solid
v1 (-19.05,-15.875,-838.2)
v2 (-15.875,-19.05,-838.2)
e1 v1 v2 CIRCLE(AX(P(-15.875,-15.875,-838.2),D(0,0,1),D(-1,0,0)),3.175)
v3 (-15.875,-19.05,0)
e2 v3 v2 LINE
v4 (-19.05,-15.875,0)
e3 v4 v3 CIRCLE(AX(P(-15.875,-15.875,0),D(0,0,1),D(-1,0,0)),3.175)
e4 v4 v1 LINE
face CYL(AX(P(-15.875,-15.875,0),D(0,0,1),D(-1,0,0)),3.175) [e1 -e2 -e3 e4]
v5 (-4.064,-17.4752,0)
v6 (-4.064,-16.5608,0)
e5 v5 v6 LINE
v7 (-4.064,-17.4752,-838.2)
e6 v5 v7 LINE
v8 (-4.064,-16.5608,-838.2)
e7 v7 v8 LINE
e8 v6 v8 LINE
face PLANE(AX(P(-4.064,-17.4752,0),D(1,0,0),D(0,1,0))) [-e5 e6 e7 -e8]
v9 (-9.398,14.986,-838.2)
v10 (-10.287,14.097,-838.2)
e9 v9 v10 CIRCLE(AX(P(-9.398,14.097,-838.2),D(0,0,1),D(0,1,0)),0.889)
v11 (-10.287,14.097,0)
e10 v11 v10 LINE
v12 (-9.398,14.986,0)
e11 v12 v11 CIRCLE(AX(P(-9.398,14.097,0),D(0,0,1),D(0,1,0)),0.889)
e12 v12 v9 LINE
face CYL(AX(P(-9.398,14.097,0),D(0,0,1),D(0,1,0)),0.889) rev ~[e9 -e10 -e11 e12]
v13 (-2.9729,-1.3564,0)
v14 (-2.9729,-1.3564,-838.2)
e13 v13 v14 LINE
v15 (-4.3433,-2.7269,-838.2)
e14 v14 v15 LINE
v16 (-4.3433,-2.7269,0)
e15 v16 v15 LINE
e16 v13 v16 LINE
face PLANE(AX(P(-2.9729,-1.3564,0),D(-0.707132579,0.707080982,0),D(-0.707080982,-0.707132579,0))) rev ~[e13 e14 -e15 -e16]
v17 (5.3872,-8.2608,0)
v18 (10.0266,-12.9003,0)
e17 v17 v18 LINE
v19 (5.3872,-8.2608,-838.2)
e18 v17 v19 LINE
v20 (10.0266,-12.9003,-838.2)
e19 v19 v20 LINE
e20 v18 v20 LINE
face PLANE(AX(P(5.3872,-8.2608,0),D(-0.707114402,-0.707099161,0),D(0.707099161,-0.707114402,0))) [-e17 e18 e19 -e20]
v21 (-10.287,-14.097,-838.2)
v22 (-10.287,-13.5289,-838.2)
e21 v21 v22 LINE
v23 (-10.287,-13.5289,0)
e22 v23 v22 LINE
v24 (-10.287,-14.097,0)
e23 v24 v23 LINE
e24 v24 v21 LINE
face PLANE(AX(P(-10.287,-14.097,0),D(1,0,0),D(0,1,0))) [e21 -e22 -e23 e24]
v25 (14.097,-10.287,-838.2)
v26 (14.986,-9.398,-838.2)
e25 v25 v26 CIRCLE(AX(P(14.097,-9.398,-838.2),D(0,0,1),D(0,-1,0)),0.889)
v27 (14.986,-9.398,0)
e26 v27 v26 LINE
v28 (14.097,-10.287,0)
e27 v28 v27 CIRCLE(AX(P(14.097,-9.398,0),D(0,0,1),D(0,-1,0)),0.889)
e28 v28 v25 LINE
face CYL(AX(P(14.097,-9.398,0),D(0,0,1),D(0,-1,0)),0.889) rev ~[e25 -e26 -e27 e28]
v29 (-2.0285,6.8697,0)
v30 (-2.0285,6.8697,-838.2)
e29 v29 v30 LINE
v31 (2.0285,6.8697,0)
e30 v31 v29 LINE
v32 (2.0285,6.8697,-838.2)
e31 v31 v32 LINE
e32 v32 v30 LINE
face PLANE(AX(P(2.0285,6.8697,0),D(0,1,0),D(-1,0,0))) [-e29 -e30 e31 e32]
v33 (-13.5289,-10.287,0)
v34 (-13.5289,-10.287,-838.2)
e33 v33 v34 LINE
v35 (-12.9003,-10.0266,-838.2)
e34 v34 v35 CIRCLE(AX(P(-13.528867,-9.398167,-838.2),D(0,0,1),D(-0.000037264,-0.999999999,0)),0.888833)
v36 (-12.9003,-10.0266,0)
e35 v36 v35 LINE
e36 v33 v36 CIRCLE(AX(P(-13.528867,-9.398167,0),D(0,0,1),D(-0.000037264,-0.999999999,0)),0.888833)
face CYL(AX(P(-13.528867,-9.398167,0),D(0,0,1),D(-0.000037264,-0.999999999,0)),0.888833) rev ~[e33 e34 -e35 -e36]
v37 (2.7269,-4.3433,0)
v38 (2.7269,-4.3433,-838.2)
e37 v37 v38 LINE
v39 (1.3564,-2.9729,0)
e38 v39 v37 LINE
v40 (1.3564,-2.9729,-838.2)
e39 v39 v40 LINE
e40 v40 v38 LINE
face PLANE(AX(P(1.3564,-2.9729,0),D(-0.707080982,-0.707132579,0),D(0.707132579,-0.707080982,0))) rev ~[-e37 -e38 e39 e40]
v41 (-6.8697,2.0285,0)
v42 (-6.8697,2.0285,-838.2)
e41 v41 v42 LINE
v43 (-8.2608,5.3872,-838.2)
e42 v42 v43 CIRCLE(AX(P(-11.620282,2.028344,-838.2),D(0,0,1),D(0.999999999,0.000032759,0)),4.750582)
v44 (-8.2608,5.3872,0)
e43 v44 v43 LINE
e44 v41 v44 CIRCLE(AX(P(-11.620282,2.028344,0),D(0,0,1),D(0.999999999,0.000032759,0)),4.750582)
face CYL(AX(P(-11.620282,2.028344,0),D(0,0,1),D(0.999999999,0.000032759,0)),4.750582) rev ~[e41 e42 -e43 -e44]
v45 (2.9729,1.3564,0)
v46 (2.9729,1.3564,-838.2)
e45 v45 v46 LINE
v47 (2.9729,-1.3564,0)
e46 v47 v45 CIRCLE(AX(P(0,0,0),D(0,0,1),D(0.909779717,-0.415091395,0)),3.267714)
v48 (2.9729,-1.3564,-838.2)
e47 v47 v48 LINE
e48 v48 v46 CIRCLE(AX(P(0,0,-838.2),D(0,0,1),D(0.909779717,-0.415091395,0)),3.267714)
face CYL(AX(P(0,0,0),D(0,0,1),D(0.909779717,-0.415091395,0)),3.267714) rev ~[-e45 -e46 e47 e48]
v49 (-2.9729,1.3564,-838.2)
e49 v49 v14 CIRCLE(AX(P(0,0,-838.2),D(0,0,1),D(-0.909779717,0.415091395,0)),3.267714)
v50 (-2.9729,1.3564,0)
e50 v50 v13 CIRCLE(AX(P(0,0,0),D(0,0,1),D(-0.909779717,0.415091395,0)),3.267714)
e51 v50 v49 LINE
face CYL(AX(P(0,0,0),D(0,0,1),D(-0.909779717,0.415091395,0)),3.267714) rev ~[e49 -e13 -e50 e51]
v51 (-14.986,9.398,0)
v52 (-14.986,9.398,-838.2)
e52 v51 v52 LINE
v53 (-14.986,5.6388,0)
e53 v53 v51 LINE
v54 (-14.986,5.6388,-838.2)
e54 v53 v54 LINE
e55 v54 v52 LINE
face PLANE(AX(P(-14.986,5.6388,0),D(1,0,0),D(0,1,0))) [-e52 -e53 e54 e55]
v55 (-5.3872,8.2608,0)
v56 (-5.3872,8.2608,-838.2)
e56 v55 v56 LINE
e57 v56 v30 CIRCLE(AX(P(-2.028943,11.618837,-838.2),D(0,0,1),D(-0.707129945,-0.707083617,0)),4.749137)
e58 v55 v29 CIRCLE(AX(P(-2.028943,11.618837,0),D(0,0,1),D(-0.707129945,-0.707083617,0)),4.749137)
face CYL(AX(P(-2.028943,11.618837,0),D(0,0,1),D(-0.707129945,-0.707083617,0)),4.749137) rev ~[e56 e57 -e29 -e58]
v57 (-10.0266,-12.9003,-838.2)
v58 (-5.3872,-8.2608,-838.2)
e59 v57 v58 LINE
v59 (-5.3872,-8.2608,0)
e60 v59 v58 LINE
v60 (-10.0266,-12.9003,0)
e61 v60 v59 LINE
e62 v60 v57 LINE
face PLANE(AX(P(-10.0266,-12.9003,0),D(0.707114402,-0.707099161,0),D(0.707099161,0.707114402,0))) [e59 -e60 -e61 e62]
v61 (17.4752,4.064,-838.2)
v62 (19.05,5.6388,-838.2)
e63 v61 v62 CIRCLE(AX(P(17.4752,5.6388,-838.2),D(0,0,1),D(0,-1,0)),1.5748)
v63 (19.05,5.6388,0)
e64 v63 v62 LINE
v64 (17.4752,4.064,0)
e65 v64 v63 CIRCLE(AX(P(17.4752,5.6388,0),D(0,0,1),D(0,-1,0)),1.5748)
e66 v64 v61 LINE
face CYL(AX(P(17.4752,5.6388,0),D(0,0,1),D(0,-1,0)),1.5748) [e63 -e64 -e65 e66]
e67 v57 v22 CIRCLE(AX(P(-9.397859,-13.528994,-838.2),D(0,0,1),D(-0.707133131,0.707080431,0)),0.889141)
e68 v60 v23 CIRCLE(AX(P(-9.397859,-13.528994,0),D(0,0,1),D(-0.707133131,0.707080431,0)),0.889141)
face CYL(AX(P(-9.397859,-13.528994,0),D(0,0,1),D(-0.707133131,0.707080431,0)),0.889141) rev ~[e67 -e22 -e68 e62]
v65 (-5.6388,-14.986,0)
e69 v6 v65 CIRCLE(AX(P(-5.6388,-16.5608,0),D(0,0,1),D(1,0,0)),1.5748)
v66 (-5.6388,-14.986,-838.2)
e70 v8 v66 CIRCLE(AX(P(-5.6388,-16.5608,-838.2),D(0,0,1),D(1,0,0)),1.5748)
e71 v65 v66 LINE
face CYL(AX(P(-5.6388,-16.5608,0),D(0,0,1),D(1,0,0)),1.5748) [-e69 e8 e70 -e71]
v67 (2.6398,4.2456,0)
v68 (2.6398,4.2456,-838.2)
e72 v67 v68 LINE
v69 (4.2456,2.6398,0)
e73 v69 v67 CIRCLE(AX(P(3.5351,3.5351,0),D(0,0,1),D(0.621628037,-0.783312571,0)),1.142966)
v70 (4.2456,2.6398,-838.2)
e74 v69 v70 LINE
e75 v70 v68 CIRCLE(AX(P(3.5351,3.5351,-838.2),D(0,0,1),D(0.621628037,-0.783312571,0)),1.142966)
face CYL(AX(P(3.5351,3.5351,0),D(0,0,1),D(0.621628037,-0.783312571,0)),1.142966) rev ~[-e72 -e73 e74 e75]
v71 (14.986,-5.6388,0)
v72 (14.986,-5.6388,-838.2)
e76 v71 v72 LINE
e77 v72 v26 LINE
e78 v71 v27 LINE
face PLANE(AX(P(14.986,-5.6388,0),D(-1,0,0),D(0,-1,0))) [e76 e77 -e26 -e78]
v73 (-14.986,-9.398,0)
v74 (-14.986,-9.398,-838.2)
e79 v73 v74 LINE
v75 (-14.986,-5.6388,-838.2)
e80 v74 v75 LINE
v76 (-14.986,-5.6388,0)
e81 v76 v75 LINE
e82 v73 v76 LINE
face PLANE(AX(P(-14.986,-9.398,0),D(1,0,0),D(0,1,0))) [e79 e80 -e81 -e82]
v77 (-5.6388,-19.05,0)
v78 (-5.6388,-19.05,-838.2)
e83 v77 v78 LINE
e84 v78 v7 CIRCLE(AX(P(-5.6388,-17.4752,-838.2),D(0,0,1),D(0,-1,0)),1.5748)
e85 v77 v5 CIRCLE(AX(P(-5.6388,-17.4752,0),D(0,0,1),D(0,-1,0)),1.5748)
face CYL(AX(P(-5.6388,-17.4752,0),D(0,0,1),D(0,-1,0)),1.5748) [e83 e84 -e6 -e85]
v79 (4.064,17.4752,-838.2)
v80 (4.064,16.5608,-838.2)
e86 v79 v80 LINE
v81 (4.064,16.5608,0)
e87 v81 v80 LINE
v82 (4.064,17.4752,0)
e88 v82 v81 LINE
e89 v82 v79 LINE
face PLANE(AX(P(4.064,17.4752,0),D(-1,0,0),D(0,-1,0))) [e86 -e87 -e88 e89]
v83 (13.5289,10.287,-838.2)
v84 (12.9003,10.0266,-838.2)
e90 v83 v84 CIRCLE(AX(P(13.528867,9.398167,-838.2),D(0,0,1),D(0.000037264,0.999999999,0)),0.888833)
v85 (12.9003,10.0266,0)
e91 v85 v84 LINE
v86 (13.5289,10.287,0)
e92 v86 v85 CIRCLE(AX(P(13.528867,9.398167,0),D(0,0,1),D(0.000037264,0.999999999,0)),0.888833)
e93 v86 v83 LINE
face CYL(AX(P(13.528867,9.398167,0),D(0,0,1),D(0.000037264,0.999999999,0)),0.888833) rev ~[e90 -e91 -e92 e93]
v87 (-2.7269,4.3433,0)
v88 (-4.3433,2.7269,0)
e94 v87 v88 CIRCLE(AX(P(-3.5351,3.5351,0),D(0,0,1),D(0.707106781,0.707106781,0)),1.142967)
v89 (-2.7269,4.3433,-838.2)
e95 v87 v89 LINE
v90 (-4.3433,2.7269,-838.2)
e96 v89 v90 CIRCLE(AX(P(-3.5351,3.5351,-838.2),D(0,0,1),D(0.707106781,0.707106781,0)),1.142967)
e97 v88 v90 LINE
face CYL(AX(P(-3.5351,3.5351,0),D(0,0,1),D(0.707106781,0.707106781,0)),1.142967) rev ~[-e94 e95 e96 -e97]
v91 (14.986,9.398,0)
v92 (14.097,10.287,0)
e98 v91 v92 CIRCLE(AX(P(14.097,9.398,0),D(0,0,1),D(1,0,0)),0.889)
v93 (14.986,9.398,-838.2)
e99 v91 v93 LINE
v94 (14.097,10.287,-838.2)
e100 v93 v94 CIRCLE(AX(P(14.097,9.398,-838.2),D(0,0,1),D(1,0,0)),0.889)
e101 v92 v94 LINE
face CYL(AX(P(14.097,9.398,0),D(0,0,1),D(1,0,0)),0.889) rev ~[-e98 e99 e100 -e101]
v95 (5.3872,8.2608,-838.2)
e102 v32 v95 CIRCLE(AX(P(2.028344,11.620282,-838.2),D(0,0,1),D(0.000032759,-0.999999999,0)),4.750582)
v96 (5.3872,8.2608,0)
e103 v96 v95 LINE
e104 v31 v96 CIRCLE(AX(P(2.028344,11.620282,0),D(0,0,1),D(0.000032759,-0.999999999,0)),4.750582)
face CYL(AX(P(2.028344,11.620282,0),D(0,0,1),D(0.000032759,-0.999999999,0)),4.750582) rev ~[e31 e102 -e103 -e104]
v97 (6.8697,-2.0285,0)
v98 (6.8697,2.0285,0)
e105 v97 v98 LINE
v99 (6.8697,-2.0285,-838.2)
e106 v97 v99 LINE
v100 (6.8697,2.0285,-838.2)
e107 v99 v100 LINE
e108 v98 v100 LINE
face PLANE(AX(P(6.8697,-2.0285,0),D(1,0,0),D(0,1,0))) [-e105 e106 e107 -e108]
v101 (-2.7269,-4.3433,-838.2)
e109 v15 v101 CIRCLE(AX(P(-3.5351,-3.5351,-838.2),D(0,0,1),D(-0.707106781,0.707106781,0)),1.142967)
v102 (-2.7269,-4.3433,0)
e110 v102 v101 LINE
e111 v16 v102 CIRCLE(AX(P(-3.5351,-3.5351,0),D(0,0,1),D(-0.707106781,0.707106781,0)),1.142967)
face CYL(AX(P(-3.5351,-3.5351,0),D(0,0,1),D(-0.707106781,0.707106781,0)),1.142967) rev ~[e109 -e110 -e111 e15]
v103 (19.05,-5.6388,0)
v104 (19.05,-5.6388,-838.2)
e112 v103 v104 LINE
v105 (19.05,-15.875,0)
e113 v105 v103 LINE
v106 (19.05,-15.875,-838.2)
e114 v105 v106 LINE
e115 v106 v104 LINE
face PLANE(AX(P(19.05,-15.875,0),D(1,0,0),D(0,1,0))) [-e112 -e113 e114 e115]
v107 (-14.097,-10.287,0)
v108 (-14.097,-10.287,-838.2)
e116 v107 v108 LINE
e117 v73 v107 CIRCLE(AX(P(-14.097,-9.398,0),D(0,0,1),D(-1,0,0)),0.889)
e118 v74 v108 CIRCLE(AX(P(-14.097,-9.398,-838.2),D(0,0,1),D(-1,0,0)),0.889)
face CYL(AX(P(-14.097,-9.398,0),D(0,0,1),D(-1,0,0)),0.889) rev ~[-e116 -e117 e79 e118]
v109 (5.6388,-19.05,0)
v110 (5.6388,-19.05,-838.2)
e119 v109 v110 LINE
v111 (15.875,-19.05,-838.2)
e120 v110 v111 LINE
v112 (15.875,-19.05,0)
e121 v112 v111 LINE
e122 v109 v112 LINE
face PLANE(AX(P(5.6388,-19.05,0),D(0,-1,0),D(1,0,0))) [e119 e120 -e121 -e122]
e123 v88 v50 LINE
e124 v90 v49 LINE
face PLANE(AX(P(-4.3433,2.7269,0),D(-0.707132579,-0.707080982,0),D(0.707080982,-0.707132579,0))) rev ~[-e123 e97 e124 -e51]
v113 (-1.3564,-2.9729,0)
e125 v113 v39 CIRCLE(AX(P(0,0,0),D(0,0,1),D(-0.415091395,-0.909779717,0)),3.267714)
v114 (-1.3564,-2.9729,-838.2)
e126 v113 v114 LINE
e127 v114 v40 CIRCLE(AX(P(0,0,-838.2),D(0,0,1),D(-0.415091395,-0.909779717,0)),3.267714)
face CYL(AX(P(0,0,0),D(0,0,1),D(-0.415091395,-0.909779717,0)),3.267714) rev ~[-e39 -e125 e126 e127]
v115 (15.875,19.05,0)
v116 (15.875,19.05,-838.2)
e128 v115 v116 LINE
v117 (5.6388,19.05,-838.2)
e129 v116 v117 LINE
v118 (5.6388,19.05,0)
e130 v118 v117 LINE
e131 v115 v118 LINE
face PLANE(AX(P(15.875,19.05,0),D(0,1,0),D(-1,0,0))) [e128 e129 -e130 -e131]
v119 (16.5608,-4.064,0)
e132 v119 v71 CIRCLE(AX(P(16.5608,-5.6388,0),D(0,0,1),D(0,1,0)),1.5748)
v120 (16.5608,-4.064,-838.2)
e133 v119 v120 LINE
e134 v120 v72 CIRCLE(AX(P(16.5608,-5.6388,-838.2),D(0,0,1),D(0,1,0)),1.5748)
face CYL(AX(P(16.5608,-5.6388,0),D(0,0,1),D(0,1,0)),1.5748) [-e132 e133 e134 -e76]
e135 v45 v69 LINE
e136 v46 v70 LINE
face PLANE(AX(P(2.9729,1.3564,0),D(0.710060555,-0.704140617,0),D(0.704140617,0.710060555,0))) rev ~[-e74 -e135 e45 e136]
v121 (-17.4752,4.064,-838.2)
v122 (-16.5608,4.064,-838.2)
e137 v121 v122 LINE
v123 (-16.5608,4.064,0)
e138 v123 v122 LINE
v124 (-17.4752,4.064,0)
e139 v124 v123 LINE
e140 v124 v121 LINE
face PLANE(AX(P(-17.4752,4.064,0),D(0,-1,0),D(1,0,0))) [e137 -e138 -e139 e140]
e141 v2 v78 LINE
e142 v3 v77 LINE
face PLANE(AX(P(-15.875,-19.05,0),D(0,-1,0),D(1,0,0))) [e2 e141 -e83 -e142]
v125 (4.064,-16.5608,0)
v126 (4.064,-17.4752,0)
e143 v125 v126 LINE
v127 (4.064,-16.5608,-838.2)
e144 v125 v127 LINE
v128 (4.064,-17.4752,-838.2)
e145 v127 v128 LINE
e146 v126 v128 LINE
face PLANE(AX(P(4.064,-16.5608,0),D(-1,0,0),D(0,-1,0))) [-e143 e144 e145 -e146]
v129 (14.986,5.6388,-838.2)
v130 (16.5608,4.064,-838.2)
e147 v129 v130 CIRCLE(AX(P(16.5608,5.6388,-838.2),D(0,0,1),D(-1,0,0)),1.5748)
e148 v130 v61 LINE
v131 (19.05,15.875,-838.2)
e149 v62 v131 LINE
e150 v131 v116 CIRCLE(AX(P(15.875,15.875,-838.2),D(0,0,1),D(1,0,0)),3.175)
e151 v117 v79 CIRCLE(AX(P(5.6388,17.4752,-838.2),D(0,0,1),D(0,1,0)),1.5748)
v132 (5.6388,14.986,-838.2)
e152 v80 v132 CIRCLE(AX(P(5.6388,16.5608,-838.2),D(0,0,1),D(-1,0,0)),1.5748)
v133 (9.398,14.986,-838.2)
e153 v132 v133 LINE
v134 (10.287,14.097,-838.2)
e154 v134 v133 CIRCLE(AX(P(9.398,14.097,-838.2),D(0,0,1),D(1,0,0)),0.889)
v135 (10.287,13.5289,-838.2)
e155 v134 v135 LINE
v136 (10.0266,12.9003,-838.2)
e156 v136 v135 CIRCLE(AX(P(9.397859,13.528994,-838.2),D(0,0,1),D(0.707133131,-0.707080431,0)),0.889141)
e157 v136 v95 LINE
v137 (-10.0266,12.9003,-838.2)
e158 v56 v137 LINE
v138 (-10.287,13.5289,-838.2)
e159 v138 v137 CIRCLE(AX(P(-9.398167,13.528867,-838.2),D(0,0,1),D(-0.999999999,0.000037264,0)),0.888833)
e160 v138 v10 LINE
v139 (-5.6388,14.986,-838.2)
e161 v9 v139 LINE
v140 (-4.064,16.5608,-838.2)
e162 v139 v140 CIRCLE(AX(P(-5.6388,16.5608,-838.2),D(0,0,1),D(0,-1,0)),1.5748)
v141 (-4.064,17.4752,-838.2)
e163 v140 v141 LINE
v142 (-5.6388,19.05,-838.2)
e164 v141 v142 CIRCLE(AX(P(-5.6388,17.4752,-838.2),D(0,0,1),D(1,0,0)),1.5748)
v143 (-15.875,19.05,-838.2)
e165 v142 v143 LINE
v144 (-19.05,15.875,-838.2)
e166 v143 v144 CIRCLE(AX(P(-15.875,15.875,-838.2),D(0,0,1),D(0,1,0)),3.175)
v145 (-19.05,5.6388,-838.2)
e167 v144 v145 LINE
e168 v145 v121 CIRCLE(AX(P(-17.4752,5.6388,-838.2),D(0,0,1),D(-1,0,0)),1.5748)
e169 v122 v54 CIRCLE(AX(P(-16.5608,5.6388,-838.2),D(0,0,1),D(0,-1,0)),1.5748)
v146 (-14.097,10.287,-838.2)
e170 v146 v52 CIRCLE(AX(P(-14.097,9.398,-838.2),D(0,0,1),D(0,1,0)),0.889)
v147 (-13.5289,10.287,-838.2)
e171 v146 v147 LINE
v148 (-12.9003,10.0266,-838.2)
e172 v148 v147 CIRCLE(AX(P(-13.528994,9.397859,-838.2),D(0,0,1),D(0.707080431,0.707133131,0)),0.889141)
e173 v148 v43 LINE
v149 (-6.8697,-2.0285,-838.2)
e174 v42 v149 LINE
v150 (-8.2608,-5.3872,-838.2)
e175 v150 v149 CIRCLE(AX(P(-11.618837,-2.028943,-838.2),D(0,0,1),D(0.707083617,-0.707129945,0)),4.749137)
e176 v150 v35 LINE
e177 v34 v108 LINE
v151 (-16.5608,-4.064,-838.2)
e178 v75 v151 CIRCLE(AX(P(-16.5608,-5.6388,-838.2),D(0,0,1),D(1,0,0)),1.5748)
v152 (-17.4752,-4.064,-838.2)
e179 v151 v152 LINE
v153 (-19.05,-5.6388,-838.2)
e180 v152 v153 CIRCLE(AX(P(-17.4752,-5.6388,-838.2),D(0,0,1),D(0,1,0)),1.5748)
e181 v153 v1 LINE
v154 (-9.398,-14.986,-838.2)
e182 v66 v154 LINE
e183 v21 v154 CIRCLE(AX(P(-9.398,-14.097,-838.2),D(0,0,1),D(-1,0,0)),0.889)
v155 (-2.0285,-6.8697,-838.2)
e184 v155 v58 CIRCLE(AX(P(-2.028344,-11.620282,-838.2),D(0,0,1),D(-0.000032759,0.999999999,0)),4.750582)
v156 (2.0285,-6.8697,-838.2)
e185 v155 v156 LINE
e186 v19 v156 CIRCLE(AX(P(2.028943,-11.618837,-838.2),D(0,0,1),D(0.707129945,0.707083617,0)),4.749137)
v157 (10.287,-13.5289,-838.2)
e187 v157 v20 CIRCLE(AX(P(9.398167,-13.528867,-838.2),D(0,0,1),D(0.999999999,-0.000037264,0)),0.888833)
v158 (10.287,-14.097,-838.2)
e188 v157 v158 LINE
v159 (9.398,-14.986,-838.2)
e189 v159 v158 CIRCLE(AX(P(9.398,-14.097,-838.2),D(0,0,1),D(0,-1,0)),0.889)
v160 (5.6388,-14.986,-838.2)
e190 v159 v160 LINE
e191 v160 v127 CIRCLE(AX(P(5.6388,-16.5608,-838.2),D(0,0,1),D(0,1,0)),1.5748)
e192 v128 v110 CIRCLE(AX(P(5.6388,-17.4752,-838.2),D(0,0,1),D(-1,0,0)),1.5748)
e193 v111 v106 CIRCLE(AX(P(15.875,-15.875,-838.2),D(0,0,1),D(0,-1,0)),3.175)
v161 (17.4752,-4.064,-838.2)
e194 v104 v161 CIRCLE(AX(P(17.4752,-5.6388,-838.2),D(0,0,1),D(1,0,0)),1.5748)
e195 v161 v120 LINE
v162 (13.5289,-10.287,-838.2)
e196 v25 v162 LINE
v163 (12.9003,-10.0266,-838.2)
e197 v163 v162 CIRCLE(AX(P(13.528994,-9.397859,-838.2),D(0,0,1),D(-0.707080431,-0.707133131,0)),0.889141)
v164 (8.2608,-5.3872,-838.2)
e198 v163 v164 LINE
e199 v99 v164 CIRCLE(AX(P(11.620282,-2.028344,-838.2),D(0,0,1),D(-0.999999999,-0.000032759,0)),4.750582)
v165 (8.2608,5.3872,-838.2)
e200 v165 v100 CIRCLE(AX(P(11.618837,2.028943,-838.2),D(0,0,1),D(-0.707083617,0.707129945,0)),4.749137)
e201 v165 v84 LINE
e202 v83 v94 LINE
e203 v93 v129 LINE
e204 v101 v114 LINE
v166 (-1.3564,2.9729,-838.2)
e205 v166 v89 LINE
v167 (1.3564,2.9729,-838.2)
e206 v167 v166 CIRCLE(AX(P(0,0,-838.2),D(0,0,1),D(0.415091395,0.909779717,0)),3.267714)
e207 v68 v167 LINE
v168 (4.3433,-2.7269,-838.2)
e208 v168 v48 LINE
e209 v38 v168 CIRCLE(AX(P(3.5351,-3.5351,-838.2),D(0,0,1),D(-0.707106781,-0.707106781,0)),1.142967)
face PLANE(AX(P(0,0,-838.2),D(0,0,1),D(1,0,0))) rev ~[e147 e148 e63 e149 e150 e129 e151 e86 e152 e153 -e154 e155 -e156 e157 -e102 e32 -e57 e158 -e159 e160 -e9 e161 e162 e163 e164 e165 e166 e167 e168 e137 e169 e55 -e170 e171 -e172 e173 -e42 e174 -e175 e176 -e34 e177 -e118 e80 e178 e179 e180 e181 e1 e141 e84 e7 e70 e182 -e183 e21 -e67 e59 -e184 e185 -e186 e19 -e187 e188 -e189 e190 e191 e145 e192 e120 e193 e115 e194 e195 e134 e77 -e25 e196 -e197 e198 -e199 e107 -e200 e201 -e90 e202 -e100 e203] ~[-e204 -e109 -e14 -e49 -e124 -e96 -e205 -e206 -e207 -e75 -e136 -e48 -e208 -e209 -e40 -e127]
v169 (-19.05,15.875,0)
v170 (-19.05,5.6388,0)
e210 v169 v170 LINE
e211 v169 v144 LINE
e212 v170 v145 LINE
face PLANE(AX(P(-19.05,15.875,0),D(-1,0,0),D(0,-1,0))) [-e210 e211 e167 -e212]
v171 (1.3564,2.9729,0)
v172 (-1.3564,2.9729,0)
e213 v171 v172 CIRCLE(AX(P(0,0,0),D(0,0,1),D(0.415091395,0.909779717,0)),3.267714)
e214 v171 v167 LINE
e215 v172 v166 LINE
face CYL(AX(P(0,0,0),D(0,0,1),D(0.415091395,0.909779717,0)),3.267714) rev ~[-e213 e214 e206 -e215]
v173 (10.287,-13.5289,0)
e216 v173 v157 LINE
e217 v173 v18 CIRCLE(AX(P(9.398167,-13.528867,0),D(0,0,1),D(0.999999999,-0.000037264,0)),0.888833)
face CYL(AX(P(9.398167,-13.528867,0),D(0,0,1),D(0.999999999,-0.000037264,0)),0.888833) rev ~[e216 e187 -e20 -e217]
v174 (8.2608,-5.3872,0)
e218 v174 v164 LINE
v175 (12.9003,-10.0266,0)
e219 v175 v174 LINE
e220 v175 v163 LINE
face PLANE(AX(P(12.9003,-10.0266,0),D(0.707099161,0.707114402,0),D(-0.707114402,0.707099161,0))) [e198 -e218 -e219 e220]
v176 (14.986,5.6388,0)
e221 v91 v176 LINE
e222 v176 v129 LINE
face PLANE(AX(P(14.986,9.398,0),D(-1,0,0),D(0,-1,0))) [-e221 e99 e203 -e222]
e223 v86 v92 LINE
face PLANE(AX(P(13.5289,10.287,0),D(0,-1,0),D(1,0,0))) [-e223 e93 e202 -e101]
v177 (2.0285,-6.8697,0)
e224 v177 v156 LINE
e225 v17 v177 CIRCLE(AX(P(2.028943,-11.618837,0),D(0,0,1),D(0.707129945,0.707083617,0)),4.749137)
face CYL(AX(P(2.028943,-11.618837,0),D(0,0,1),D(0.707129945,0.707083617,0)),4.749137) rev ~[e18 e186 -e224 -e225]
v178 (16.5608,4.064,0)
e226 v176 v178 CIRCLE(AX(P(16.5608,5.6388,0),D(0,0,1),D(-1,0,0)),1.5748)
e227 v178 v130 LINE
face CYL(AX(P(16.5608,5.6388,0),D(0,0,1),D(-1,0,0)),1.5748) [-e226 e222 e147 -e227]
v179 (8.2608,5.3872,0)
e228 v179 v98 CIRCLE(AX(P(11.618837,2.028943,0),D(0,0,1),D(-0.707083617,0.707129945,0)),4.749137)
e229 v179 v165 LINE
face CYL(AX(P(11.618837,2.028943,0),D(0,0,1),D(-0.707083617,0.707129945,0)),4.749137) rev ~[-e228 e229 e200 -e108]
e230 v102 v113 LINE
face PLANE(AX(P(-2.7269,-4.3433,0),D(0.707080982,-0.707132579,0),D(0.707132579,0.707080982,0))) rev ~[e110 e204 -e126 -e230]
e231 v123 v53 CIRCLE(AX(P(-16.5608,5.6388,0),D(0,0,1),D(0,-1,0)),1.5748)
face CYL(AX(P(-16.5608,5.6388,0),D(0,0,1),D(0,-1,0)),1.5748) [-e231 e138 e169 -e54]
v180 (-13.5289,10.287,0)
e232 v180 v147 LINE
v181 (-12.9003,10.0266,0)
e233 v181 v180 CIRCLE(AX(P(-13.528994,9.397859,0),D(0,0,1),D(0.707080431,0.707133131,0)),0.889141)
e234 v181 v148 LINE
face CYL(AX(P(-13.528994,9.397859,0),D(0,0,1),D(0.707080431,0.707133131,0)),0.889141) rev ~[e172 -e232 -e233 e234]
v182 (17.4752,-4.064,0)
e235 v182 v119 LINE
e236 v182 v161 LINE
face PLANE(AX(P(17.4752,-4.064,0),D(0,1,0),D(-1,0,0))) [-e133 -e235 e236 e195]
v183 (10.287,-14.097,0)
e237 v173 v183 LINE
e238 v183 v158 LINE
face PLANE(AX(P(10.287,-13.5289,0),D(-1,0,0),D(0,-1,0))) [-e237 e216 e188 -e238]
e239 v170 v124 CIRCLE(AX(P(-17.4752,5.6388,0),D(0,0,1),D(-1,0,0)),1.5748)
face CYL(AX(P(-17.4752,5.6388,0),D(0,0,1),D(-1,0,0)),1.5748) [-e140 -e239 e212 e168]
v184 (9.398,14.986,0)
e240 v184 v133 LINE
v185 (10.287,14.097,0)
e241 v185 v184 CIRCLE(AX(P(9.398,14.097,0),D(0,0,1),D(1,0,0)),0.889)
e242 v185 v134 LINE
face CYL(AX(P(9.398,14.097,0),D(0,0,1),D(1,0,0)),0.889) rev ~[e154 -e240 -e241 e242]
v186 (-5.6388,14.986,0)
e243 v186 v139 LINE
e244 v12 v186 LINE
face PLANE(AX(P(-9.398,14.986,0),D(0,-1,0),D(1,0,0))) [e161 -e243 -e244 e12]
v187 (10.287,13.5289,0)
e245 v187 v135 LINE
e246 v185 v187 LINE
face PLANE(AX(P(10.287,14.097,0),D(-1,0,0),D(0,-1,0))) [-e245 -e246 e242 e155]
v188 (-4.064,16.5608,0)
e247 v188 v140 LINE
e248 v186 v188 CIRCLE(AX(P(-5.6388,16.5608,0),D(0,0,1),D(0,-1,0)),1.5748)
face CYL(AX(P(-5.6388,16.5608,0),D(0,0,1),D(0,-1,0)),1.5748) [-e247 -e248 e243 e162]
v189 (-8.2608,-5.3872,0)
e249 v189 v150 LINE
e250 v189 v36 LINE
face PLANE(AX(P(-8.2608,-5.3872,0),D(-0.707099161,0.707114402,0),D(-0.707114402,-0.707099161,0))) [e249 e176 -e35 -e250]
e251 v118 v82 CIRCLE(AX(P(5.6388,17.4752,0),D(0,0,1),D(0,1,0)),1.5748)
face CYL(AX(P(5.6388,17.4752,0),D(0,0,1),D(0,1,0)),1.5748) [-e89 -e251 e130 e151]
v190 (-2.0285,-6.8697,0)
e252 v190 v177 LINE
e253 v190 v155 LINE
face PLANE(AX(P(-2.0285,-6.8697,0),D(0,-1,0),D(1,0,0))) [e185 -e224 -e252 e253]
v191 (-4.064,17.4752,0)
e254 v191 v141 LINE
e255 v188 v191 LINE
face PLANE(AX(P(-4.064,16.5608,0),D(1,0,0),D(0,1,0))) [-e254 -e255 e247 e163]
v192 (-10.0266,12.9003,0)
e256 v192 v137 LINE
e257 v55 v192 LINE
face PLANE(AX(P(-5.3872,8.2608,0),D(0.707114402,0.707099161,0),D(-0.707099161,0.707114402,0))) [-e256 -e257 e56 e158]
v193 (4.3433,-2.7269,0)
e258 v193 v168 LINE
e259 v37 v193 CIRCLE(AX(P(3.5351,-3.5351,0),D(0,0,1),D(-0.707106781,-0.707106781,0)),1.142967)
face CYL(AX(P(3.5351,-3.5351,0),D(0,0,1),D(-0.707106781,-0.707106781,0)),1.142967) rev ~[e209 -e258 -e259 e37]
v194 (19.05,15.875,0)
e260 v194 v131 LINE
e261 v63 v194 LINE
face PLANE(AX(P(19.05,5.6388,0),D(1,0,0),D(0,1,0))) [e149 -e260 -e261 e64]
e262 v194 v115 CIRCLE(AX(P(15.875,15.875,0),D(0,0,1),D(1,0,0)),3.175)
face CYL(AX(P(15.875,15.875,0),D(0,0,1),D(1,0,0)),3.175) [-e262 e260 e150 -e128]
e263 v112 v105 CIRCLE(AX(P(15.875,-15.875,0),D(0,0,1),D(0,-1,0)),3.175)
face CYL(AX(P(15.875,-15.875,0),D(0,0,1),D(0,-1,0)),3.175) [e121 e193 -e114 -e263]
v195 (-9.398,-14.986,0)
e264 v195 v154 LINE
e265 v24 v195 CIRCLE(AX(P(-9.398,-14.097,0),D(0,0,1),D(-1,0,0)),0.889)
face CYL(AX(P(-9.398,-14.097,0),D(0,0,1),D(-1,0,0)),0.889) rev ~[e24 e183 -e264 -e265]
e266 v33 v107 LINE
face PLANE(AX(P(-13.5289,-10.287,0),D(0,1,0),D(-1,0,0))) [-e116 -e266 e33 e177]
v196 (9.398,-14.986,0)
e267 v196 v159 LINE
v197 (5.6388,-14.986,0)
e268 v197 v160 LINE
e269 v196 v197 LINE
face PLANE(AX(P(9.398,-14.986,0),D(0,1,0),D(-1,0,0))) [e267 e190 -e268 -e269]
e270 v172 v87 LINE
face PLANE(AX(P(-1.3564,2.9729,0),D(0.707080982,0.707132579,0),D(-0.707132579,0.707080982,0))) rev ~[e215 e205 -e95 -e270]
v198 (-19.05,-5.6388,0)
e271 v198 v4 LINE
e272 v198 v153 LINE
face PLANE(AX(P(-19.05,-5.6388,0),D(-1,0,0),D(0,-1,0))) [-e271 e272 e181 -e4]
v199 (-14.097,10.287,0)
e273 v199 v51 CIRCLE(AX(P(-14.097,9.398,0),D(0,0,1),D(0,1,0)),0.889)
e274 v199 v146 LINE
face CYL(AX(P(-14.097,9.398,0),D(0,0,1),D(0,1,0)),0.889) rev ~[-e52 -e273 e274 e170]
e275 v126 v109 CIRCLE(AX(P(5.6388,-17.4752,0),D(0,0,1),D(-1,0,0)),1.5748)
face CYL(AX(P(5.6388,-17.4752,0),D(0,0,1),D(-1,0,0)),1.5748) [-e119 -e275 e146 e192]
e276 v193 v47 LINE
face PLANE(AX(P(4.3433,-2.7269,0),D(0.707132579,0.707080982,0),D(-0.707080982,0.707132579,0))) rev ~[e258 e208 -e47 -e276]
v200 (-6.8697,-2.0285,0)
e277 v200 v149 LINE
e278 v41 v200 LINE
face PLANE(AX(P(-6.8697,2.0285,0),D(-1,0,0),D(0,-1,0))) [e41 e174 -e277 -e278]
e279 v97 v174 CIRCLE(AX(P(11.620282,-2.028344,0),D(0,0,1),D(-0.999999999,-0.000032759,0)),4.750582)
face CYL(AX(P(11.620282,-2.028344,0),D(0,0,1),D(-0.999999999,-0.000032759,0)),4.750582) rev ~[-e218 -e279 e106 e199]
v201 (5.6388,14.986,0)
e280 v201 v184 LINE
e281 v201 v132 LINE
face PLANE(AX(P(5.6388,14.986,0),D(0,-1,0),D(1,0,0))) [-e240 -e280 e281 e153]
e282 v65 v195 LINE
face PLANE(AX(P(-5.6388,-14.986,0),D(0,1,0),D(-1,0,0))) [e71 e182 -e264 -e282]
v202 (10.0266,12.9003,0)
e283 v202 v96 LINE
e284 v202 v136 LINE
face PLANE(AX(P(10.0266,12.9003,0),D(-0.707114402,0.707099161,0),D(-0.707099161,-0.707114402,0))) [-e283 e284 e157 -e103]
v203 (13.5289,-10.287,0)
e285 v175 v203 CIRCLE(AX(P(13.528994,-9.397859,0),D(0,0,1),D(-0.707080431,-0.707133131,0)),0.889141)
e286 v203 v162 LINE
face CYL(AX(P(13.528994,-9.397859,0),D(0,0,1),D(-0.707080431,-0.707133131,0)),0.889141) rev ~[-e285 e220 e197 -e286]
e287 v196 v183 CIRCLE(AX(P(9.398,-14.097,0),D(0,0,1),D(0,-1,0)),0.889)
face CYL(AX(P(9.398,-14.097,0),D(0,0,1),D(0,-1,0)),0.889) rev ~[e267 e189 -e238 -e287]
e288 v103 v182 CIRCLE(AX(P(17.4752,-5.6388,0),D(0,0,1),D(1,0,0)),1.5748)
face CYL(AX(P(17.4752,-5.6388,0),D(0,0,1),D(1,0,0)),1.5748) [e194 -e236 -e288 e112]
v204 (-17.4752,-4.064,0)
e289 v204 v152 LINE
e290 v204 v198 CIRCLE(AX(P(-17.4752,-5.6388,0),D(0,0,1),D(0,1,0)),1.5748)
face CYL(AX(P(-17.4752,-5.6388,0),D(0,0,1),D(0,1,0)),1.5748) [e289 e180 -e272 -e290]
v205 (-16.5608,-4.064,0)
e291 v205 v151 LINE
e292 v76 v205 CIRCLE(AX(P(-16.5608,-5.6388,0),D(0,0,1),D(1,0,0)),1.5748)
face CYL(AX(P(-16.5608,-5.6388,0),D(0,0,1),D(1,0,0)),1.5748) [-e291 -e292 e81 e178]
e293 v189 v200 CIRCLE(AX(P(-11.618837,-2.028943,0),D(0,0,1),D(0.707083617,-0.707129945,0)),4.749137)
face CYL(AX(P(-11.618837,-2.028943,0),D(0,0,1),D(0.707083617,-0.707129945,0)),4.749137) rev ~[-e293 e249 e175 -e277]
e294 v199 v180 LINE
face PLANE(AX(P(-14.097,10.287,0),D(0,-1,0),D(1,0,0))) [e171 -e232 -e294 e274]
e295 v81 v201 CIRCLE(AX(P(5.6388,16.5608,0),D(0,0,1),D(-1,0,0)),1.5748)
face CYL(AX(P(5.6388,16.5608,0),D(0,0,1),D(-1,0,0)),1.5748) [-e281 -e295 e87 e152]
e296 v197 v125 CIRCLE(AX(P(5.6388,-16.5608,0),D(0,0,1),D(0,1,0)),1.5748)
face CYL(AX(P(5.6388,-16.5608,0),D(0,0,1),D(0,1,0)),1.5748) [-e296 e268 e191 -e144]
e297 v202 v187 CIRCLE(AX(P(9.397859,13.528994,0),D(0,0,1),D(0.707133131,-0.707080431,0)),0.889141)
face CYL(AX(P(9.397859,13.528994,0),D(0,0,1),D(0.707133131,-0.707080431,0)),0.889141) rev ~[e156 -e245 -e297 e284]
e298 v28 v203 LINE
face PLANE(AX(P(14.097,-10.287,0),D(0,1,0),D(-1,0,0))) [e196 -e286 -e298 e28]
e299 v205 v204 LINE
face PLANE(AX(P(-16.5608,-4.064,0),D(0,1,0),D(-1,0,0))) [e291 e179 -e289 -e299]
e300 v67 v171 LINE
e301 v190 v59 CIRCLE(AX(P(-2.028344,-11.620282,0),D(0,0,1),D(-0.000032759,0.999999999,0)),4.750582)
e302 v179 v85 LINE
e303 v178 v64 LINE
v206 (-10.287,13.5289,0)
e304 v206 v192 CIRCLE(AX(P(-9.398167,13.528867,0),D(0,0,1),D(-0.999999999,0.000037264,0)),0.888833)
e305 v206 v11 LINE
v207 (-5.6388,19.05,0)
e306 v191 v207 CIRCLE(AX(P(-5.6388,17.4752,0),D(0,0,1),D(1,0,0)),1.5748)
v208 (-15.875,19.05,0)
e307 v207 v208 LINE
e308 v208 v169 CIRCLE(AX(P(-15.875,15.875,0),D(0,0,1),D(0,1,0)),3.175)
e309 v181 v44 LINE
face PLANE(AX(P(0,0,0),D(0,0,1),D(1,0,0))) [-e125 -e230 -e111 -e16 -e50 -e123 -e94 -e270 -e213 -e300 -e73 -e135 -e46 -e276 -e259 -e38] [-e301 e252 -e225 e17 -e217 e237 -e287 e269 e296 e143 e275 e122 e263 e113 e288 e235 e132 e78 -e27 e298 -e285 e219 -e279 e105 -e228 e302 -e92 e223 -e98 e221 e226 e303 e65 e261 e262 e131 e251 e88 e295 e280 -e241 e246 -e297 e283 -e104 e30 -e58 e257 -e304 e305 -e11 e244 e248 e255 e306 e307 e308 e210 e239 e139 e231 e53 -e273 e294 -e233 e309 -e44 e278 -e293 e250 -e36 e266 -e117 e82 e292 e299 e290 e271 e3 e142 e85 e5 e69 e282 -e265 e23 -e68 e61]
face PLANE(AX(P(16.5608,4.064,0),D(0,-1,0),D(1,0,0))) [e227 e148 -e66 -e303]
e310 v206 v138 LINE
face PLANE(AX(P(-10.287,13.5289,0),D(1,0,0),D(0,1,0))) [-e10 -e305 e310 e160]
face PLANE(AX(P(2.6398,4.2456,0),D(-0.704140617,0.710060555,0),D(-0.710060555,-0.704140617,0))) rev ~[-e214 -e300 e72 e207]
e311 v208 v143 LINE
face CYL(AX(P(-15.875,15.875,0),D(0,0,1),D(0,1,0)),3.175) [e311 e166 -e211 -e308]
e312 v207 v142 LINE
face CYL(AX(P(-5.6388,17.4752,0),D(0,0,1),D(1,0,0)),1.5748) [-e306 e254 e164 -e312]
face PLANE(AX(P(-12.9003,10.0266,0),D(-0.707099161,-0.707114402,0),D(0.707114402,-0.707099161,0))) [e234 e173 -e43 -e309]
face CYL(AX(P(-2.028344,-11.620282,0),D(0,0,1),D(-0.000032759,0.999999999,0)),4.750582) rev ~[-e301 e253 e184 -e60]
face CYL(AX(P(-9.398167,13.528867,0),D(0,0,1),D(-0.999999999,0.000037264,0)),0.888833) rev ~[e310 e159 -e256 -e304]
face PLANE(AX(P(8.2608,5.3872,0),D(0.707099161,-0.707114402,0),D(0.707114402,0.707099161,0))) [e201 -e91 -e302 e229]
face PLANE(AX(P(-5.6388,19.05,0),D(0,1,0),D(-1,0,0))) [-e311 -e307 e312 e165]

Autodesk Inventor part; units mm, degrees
ref_plane "YZ Plane" through (0, 0, 0) normal (1, 0, 0) x (0, 1, 0)
ref_plane "XZ Plane" through (0, 0, 0) normal (0, 1, 0) x (-1, 0, 0)
ref_plane "Work Plane1" through (-293.8098, -15.875, -838.2) normal (0, 0, 1) x (1, 0, 0)
sketch "Sketch1" plane through (0, 0, 0) normal (0, 0, 1) x (1, 0, 0)
  arc A0 (4.2456, 2.6398) -> (2.6398, 4.2456) centre (3.5351, 3.5351) ccw
  line L0 (2.9729, 1.3564) -> (4.2456, 2.6398)
  arc A1 (2.9729, -1.3564) -> (2.9729, 1.3564) centre (0, 0) ccw
  line L1 (4.3433, -2.7269) -> (2.9729, -1.3564)
  arc A2 (2.7269, -4.3433) -> (4.3433, -2.7269) centre (3.5351, -3.5351) ccw
  line L2 (1.3564, -2.9729) -> (2.7269, -4.3433)
  arc A3 (-1.3564, -2.9729) -> (1.3564, -2.9729) centre (0, 0) ccw
  line L3 (-2.7269, -4.3433) -> (-1.3564, -2.9729)
  arc A4 (-4.3433, -2.7269) -> (-2.7269, -4.3433) centre (-3.5351, -3.5351) ccw
  line L4 (-2.9729, -1.3564) -> (-4.3433, -2.7269)
  arc A5 (-2.9729, 1.3564) -> (-2.9729, -1.3564) centre (0, 0) ccw
  line L5 (-4.3433, 2.7269) -> (-2.9729, 1.3564)
  arc A6 (-2.7269, 4.3433) -> (-4.3433, 2.7269) centre (-3.5351, 3.5351) ccw
  line L6 (-1.3564, 2.9729) -> (-2.7269, 4.3433)
  arc A7 (1.3564, 2.9729) -> (-1.3564, 2.9729) centre (0, 0) ccw
  line L7 (2.6398, 4.2456) -> (1.3564, 2.9729)
  arc A8 (16.5608, -4.064) -> (14.986, -5.6388) centre (16.5608, -5.6388) ccw
  line L8 (14.986, -5.6388) -> (14.986, -9.398)
  arc A9 (14.097, -10.287) -> (14.986, -9.398) centre (14.097, -9.398) ccw
  line L9 (14.097, -10.287) -> (13.5289, -10.287)
  arc A10 (12.9003, -10.0266) -> (13.5289, -10.287) centre (13.5289, -9.398) ccw
  line L10 (12.9003, -10.0266) -> (8.2608, -5.3872)
  arc A11 (6.8697, -2.0285) -> (8.2608, -5.3872) centre (11.6195, -2.0285) ccw
  line L11 (6.8697, -2.0285) -> (6.8697, 2.0285)
  arc A12 (8.2608, 5.3872) -> (6.8697, 2.0285) centre (11.6195, 2.0285) ccw
  line L12 (8.2608, 5.3872) -> (12.9003, 10.0266)
  arc A13 (13.5289, 10.287) -> (12.9003, 10.0266) centre (13.5289, 9.398) ccw
  line L13 (13.5289, 10.287) -> (14.097, 10.287)
  arc A14 (14.986, 9.398) -> (14.097, 10.287) centre (14.097, 9.398) ccw
  line L14 (14.986, 9.398) -> (14.986, 5.6388)
  arc A15 (14.986, 5.6388) -> (16.5608, 4.064) centre (16.5608, 5.6388) ccw
  line L15 (16.5608, 4.064) -> (17.4752, 4.064)
  arc A16 (17.4752, 4.064) -> (19.05, 5.6388) centre (17.4752, 5.6388) ccw
  line L16 (19.05, 5.6388) -> (19.05, 15.875)
  arc A17 (19.05, 15.875) -> (15.875, 19.05) centre (15.875, 15.875) ccw
  line L17 (15.875, 19.05) -> (5.6388, 19.05)
  arc A18 (5.6388, 19.05) -> (4.064, 17.4752) centre (5.6388, 17.4752) ccw
  line L18 (4.064, 17.4752) -> (4.064, 16.5608)
  arc A19 (4.064, 16.5608) -> (5.6388, 14.986) centre (5.6388, 16.5608) ccw
  line L19 (5.6388, 14.986) -> (9.398, 14.986)
  arc A20 (10.287, 14.097) -> (9.398, 14.986) centre (9.398, 14.097) ccw
  line L20 (10.287, 14.097) -> (10.287, 13.5289)
  arc A21 (10.0266, 12.9003) -> (10.287, 13.5289) centre (9.398, 13.5289) ccw
  line L21 (10.0266, 12.9003) -> (5.3872, 8.2608)
  arc A22 (2.0285, 6.8697) -> (5.3872, 8.2608) centre (2.0285, 11.6195) ccw
  line L22 (2.0285, 6.8697) -> (-2.0285, 6.8697)
  arc A23 (-5.3872, 8.2608) -> (-2.0285, 6.8697) centre (-2.0285, 11.6195) ccw
  line L23 (-5.3872, 8.2608) -> (-10.0266, 12.9003)
  arc A24 (-10.287, 13.5289) -> (-10.0266, 12.9003) centre (-9.398, 13.5289) ccw
  line L24 (-10.287, 13.5289) -> (-10.287, 14.097)
  arc A25 (-9.398, 14.986) -> (-10.287, 14.097) centre (-9.398, 14.097) ccw
  line L25 (-9.398, 14.986) -> (-5.6388, 14.986)
  arc A26 (-5.6388, 14.986) -> (-4.064, 16.5608) centre (-5.6388, 16.5608) ccw
  line L26 (-4.064, 16.5608) -> (-4.064, 17.4752)
  arc A27 (-4.064, 17.4752) -> (-5.6388, 19.05) centre (-5.6388, 17.4752) ccw
  line L27 (-5.6388, 19.05) -> (-15.875, 19.05)
  arc A28 (-15.875, 19.05) -> (-19.05, 15.875) centre (-15.875, 15.875) ccw
  line L28 (-19.05, 15.875) -> (-19.05, 5.6388)
  arc A29 (-19.05, 5.6388) -> (-17.4752, 4.064) centre (-17.4752, 5.6388) ccw
  line L29 (-17.4752, 4.064) -> (-16.5608, 4.064)
  arc A30 (-16.5608, 4.064) -> (-14.986, 5.6388) centre (-16.5608, 5.6388) ccw
  line L30 (-14.986, 5.6388) -> (-14.986, 9.398)
  arc A31 (-14.097, 10.287) -> (-14.986, 9.398) centre (-14.097, 9.398) ccw
  line L31 (-14.097, 10.287) -> (-13.5289, 10.287)
  arc A32 (-12.9003, 10.0266) -> (-13.5289, 10.287) centre (-13.5289, 9.398) ccw
  line L32 (-12.9003, 10.0266) -> (-8.2608, 5.3872)
  arc A33 (-6.8697, 2.0285) -> (-8.2608, 5.3872) centre (-11.6195, 2.0285) ccw
  line L33 (-6.8697, 2.0285) -> (-6.8697, -2.0285)
  arc A34 (-8.2608, -5.3872) -> (-6.8697, -2.0285) centre (-11.6195, -2.0285) ccw
  line L34 (-8.2608, -5.3872) -> (-12.9003, -10.0266)
  arc A35 (-13.5289, -10.287) -> (-12.9003, -10.0266) centre (-13.5289, -9.398) ccw
  line L35 (-13.5289, -10.287) -> (-14.097, -10.287)
  arc A36 (-14.986, -9.398) -> (-14.097, -10.287) centre (-14.097, -9.398) ccw
  line L36 (-14.986, -9.398) -> (-14.986, -5.6388)
  arc A37 (-14.986, -5.6388) -> (-16.5608, -4.064) centre (-16.5608, -5.6388) ccw
  line L37 (-16.5608, -4.064) -> (-17.4752, -4.064)
  arc A38 (-17.4752, -4.064) -> (-19.05, -5.6388) centre (-17.4752, -5.6388) ccw
  line L38 (-19.05, -5.6388) -> (-19.05, -15.875)
  arc A39 (-19.05, -15.875) -> (-15.875, -19.05) centre (-15.875, -15.875) ccw
  line L39 (-15.875, -19.05) -> (-5.6388, -19.05)
  arc A40 (-5.6388, -19.05) -> (-4.064, -17.4752) centre (-5.6388, -17.4752) ccw
  line L40 (-4.064, -17.4752) -> (-4.064, -16.5608)
  arc A41 (-4.064, -16.5608) -> (-5.6388, -14.986) centre (-5.6388, -16.5608) ccw
  line L41 (-5.6388, -14.986) -> (-9.398, -14.986)
  arc A42 (-10.287, -14.097) -> (-9.398, -14.986) centre (-9.398, -14.097) ccw
  line L42 (-10.287, -14.097) -> (-10.287, -13.5289)
  arc A43 (-10.0266, -12.9003) -> (-10.287, -13.5289) centre (-9.398, -13.5289) ccw
  line L43 (-10.0266, -12.9003) -> (-5.3872, -8.2608)
  arc A44 (-2.0285, -6.8697) -> (-5.3872, -8.2608) centre (-2.0285, -11.6195) ccw
  line L44 (-2.0285, -6.8697) -> (2.0285, -6.8697)
  arc A45 (5.3872, -8.2608) -> (2.0285, -6.8697) centre (2.0285, -11.6195) ccw
  line L45 (5.3872, -8.2608) -> (10.0266, -12.9003)
  arc A46 (10.287, -13.5289) -> (10.0266, -12.9003) centre (9.398, -13.5289) ccw
  line L46 (10.287, -13.5289) -> (10.287, -14.097)
  arc A47 (9.398, -14.986) -> (10.287, -14.097) centre (9.398, -14.097) ccw
  line L47 (9.398, -14.986) -> (5.6388, -14.986)
  arc A48 (5.6388, -14.986) -> (4.064, -16.5608) centre (5.6388, -16.5608) ccw
  line L48 (4.064, -16.5608) -> (4.064, -17.4752)
  arc A49 (4.064, -17.4752) -> (5.6388, -19.05) centre (5.6388, -17.4752) ccw
  line L49 (5.6388, -19.05) -> (15.875, -19.05)
  arc A50 (15.875, -19.05) -> (19.05, -15.875) centre (15.875, -15.875) ccw
  line L50 (19.05, -15.875) -> (19.05, -5.6388)
  arc A51 (19.05, -5.6388) -> (17.4752, -4.064) centre (17.4752, -5.6388) ccw
  line L51 (17.4752, -4.064) -> (16.5608, -4.064)
extrude "Extrusion1" add sketch "Sketch1" against normal up to surface (838.2 mm away)
properties part number "1515-S" material "Aluminum"
